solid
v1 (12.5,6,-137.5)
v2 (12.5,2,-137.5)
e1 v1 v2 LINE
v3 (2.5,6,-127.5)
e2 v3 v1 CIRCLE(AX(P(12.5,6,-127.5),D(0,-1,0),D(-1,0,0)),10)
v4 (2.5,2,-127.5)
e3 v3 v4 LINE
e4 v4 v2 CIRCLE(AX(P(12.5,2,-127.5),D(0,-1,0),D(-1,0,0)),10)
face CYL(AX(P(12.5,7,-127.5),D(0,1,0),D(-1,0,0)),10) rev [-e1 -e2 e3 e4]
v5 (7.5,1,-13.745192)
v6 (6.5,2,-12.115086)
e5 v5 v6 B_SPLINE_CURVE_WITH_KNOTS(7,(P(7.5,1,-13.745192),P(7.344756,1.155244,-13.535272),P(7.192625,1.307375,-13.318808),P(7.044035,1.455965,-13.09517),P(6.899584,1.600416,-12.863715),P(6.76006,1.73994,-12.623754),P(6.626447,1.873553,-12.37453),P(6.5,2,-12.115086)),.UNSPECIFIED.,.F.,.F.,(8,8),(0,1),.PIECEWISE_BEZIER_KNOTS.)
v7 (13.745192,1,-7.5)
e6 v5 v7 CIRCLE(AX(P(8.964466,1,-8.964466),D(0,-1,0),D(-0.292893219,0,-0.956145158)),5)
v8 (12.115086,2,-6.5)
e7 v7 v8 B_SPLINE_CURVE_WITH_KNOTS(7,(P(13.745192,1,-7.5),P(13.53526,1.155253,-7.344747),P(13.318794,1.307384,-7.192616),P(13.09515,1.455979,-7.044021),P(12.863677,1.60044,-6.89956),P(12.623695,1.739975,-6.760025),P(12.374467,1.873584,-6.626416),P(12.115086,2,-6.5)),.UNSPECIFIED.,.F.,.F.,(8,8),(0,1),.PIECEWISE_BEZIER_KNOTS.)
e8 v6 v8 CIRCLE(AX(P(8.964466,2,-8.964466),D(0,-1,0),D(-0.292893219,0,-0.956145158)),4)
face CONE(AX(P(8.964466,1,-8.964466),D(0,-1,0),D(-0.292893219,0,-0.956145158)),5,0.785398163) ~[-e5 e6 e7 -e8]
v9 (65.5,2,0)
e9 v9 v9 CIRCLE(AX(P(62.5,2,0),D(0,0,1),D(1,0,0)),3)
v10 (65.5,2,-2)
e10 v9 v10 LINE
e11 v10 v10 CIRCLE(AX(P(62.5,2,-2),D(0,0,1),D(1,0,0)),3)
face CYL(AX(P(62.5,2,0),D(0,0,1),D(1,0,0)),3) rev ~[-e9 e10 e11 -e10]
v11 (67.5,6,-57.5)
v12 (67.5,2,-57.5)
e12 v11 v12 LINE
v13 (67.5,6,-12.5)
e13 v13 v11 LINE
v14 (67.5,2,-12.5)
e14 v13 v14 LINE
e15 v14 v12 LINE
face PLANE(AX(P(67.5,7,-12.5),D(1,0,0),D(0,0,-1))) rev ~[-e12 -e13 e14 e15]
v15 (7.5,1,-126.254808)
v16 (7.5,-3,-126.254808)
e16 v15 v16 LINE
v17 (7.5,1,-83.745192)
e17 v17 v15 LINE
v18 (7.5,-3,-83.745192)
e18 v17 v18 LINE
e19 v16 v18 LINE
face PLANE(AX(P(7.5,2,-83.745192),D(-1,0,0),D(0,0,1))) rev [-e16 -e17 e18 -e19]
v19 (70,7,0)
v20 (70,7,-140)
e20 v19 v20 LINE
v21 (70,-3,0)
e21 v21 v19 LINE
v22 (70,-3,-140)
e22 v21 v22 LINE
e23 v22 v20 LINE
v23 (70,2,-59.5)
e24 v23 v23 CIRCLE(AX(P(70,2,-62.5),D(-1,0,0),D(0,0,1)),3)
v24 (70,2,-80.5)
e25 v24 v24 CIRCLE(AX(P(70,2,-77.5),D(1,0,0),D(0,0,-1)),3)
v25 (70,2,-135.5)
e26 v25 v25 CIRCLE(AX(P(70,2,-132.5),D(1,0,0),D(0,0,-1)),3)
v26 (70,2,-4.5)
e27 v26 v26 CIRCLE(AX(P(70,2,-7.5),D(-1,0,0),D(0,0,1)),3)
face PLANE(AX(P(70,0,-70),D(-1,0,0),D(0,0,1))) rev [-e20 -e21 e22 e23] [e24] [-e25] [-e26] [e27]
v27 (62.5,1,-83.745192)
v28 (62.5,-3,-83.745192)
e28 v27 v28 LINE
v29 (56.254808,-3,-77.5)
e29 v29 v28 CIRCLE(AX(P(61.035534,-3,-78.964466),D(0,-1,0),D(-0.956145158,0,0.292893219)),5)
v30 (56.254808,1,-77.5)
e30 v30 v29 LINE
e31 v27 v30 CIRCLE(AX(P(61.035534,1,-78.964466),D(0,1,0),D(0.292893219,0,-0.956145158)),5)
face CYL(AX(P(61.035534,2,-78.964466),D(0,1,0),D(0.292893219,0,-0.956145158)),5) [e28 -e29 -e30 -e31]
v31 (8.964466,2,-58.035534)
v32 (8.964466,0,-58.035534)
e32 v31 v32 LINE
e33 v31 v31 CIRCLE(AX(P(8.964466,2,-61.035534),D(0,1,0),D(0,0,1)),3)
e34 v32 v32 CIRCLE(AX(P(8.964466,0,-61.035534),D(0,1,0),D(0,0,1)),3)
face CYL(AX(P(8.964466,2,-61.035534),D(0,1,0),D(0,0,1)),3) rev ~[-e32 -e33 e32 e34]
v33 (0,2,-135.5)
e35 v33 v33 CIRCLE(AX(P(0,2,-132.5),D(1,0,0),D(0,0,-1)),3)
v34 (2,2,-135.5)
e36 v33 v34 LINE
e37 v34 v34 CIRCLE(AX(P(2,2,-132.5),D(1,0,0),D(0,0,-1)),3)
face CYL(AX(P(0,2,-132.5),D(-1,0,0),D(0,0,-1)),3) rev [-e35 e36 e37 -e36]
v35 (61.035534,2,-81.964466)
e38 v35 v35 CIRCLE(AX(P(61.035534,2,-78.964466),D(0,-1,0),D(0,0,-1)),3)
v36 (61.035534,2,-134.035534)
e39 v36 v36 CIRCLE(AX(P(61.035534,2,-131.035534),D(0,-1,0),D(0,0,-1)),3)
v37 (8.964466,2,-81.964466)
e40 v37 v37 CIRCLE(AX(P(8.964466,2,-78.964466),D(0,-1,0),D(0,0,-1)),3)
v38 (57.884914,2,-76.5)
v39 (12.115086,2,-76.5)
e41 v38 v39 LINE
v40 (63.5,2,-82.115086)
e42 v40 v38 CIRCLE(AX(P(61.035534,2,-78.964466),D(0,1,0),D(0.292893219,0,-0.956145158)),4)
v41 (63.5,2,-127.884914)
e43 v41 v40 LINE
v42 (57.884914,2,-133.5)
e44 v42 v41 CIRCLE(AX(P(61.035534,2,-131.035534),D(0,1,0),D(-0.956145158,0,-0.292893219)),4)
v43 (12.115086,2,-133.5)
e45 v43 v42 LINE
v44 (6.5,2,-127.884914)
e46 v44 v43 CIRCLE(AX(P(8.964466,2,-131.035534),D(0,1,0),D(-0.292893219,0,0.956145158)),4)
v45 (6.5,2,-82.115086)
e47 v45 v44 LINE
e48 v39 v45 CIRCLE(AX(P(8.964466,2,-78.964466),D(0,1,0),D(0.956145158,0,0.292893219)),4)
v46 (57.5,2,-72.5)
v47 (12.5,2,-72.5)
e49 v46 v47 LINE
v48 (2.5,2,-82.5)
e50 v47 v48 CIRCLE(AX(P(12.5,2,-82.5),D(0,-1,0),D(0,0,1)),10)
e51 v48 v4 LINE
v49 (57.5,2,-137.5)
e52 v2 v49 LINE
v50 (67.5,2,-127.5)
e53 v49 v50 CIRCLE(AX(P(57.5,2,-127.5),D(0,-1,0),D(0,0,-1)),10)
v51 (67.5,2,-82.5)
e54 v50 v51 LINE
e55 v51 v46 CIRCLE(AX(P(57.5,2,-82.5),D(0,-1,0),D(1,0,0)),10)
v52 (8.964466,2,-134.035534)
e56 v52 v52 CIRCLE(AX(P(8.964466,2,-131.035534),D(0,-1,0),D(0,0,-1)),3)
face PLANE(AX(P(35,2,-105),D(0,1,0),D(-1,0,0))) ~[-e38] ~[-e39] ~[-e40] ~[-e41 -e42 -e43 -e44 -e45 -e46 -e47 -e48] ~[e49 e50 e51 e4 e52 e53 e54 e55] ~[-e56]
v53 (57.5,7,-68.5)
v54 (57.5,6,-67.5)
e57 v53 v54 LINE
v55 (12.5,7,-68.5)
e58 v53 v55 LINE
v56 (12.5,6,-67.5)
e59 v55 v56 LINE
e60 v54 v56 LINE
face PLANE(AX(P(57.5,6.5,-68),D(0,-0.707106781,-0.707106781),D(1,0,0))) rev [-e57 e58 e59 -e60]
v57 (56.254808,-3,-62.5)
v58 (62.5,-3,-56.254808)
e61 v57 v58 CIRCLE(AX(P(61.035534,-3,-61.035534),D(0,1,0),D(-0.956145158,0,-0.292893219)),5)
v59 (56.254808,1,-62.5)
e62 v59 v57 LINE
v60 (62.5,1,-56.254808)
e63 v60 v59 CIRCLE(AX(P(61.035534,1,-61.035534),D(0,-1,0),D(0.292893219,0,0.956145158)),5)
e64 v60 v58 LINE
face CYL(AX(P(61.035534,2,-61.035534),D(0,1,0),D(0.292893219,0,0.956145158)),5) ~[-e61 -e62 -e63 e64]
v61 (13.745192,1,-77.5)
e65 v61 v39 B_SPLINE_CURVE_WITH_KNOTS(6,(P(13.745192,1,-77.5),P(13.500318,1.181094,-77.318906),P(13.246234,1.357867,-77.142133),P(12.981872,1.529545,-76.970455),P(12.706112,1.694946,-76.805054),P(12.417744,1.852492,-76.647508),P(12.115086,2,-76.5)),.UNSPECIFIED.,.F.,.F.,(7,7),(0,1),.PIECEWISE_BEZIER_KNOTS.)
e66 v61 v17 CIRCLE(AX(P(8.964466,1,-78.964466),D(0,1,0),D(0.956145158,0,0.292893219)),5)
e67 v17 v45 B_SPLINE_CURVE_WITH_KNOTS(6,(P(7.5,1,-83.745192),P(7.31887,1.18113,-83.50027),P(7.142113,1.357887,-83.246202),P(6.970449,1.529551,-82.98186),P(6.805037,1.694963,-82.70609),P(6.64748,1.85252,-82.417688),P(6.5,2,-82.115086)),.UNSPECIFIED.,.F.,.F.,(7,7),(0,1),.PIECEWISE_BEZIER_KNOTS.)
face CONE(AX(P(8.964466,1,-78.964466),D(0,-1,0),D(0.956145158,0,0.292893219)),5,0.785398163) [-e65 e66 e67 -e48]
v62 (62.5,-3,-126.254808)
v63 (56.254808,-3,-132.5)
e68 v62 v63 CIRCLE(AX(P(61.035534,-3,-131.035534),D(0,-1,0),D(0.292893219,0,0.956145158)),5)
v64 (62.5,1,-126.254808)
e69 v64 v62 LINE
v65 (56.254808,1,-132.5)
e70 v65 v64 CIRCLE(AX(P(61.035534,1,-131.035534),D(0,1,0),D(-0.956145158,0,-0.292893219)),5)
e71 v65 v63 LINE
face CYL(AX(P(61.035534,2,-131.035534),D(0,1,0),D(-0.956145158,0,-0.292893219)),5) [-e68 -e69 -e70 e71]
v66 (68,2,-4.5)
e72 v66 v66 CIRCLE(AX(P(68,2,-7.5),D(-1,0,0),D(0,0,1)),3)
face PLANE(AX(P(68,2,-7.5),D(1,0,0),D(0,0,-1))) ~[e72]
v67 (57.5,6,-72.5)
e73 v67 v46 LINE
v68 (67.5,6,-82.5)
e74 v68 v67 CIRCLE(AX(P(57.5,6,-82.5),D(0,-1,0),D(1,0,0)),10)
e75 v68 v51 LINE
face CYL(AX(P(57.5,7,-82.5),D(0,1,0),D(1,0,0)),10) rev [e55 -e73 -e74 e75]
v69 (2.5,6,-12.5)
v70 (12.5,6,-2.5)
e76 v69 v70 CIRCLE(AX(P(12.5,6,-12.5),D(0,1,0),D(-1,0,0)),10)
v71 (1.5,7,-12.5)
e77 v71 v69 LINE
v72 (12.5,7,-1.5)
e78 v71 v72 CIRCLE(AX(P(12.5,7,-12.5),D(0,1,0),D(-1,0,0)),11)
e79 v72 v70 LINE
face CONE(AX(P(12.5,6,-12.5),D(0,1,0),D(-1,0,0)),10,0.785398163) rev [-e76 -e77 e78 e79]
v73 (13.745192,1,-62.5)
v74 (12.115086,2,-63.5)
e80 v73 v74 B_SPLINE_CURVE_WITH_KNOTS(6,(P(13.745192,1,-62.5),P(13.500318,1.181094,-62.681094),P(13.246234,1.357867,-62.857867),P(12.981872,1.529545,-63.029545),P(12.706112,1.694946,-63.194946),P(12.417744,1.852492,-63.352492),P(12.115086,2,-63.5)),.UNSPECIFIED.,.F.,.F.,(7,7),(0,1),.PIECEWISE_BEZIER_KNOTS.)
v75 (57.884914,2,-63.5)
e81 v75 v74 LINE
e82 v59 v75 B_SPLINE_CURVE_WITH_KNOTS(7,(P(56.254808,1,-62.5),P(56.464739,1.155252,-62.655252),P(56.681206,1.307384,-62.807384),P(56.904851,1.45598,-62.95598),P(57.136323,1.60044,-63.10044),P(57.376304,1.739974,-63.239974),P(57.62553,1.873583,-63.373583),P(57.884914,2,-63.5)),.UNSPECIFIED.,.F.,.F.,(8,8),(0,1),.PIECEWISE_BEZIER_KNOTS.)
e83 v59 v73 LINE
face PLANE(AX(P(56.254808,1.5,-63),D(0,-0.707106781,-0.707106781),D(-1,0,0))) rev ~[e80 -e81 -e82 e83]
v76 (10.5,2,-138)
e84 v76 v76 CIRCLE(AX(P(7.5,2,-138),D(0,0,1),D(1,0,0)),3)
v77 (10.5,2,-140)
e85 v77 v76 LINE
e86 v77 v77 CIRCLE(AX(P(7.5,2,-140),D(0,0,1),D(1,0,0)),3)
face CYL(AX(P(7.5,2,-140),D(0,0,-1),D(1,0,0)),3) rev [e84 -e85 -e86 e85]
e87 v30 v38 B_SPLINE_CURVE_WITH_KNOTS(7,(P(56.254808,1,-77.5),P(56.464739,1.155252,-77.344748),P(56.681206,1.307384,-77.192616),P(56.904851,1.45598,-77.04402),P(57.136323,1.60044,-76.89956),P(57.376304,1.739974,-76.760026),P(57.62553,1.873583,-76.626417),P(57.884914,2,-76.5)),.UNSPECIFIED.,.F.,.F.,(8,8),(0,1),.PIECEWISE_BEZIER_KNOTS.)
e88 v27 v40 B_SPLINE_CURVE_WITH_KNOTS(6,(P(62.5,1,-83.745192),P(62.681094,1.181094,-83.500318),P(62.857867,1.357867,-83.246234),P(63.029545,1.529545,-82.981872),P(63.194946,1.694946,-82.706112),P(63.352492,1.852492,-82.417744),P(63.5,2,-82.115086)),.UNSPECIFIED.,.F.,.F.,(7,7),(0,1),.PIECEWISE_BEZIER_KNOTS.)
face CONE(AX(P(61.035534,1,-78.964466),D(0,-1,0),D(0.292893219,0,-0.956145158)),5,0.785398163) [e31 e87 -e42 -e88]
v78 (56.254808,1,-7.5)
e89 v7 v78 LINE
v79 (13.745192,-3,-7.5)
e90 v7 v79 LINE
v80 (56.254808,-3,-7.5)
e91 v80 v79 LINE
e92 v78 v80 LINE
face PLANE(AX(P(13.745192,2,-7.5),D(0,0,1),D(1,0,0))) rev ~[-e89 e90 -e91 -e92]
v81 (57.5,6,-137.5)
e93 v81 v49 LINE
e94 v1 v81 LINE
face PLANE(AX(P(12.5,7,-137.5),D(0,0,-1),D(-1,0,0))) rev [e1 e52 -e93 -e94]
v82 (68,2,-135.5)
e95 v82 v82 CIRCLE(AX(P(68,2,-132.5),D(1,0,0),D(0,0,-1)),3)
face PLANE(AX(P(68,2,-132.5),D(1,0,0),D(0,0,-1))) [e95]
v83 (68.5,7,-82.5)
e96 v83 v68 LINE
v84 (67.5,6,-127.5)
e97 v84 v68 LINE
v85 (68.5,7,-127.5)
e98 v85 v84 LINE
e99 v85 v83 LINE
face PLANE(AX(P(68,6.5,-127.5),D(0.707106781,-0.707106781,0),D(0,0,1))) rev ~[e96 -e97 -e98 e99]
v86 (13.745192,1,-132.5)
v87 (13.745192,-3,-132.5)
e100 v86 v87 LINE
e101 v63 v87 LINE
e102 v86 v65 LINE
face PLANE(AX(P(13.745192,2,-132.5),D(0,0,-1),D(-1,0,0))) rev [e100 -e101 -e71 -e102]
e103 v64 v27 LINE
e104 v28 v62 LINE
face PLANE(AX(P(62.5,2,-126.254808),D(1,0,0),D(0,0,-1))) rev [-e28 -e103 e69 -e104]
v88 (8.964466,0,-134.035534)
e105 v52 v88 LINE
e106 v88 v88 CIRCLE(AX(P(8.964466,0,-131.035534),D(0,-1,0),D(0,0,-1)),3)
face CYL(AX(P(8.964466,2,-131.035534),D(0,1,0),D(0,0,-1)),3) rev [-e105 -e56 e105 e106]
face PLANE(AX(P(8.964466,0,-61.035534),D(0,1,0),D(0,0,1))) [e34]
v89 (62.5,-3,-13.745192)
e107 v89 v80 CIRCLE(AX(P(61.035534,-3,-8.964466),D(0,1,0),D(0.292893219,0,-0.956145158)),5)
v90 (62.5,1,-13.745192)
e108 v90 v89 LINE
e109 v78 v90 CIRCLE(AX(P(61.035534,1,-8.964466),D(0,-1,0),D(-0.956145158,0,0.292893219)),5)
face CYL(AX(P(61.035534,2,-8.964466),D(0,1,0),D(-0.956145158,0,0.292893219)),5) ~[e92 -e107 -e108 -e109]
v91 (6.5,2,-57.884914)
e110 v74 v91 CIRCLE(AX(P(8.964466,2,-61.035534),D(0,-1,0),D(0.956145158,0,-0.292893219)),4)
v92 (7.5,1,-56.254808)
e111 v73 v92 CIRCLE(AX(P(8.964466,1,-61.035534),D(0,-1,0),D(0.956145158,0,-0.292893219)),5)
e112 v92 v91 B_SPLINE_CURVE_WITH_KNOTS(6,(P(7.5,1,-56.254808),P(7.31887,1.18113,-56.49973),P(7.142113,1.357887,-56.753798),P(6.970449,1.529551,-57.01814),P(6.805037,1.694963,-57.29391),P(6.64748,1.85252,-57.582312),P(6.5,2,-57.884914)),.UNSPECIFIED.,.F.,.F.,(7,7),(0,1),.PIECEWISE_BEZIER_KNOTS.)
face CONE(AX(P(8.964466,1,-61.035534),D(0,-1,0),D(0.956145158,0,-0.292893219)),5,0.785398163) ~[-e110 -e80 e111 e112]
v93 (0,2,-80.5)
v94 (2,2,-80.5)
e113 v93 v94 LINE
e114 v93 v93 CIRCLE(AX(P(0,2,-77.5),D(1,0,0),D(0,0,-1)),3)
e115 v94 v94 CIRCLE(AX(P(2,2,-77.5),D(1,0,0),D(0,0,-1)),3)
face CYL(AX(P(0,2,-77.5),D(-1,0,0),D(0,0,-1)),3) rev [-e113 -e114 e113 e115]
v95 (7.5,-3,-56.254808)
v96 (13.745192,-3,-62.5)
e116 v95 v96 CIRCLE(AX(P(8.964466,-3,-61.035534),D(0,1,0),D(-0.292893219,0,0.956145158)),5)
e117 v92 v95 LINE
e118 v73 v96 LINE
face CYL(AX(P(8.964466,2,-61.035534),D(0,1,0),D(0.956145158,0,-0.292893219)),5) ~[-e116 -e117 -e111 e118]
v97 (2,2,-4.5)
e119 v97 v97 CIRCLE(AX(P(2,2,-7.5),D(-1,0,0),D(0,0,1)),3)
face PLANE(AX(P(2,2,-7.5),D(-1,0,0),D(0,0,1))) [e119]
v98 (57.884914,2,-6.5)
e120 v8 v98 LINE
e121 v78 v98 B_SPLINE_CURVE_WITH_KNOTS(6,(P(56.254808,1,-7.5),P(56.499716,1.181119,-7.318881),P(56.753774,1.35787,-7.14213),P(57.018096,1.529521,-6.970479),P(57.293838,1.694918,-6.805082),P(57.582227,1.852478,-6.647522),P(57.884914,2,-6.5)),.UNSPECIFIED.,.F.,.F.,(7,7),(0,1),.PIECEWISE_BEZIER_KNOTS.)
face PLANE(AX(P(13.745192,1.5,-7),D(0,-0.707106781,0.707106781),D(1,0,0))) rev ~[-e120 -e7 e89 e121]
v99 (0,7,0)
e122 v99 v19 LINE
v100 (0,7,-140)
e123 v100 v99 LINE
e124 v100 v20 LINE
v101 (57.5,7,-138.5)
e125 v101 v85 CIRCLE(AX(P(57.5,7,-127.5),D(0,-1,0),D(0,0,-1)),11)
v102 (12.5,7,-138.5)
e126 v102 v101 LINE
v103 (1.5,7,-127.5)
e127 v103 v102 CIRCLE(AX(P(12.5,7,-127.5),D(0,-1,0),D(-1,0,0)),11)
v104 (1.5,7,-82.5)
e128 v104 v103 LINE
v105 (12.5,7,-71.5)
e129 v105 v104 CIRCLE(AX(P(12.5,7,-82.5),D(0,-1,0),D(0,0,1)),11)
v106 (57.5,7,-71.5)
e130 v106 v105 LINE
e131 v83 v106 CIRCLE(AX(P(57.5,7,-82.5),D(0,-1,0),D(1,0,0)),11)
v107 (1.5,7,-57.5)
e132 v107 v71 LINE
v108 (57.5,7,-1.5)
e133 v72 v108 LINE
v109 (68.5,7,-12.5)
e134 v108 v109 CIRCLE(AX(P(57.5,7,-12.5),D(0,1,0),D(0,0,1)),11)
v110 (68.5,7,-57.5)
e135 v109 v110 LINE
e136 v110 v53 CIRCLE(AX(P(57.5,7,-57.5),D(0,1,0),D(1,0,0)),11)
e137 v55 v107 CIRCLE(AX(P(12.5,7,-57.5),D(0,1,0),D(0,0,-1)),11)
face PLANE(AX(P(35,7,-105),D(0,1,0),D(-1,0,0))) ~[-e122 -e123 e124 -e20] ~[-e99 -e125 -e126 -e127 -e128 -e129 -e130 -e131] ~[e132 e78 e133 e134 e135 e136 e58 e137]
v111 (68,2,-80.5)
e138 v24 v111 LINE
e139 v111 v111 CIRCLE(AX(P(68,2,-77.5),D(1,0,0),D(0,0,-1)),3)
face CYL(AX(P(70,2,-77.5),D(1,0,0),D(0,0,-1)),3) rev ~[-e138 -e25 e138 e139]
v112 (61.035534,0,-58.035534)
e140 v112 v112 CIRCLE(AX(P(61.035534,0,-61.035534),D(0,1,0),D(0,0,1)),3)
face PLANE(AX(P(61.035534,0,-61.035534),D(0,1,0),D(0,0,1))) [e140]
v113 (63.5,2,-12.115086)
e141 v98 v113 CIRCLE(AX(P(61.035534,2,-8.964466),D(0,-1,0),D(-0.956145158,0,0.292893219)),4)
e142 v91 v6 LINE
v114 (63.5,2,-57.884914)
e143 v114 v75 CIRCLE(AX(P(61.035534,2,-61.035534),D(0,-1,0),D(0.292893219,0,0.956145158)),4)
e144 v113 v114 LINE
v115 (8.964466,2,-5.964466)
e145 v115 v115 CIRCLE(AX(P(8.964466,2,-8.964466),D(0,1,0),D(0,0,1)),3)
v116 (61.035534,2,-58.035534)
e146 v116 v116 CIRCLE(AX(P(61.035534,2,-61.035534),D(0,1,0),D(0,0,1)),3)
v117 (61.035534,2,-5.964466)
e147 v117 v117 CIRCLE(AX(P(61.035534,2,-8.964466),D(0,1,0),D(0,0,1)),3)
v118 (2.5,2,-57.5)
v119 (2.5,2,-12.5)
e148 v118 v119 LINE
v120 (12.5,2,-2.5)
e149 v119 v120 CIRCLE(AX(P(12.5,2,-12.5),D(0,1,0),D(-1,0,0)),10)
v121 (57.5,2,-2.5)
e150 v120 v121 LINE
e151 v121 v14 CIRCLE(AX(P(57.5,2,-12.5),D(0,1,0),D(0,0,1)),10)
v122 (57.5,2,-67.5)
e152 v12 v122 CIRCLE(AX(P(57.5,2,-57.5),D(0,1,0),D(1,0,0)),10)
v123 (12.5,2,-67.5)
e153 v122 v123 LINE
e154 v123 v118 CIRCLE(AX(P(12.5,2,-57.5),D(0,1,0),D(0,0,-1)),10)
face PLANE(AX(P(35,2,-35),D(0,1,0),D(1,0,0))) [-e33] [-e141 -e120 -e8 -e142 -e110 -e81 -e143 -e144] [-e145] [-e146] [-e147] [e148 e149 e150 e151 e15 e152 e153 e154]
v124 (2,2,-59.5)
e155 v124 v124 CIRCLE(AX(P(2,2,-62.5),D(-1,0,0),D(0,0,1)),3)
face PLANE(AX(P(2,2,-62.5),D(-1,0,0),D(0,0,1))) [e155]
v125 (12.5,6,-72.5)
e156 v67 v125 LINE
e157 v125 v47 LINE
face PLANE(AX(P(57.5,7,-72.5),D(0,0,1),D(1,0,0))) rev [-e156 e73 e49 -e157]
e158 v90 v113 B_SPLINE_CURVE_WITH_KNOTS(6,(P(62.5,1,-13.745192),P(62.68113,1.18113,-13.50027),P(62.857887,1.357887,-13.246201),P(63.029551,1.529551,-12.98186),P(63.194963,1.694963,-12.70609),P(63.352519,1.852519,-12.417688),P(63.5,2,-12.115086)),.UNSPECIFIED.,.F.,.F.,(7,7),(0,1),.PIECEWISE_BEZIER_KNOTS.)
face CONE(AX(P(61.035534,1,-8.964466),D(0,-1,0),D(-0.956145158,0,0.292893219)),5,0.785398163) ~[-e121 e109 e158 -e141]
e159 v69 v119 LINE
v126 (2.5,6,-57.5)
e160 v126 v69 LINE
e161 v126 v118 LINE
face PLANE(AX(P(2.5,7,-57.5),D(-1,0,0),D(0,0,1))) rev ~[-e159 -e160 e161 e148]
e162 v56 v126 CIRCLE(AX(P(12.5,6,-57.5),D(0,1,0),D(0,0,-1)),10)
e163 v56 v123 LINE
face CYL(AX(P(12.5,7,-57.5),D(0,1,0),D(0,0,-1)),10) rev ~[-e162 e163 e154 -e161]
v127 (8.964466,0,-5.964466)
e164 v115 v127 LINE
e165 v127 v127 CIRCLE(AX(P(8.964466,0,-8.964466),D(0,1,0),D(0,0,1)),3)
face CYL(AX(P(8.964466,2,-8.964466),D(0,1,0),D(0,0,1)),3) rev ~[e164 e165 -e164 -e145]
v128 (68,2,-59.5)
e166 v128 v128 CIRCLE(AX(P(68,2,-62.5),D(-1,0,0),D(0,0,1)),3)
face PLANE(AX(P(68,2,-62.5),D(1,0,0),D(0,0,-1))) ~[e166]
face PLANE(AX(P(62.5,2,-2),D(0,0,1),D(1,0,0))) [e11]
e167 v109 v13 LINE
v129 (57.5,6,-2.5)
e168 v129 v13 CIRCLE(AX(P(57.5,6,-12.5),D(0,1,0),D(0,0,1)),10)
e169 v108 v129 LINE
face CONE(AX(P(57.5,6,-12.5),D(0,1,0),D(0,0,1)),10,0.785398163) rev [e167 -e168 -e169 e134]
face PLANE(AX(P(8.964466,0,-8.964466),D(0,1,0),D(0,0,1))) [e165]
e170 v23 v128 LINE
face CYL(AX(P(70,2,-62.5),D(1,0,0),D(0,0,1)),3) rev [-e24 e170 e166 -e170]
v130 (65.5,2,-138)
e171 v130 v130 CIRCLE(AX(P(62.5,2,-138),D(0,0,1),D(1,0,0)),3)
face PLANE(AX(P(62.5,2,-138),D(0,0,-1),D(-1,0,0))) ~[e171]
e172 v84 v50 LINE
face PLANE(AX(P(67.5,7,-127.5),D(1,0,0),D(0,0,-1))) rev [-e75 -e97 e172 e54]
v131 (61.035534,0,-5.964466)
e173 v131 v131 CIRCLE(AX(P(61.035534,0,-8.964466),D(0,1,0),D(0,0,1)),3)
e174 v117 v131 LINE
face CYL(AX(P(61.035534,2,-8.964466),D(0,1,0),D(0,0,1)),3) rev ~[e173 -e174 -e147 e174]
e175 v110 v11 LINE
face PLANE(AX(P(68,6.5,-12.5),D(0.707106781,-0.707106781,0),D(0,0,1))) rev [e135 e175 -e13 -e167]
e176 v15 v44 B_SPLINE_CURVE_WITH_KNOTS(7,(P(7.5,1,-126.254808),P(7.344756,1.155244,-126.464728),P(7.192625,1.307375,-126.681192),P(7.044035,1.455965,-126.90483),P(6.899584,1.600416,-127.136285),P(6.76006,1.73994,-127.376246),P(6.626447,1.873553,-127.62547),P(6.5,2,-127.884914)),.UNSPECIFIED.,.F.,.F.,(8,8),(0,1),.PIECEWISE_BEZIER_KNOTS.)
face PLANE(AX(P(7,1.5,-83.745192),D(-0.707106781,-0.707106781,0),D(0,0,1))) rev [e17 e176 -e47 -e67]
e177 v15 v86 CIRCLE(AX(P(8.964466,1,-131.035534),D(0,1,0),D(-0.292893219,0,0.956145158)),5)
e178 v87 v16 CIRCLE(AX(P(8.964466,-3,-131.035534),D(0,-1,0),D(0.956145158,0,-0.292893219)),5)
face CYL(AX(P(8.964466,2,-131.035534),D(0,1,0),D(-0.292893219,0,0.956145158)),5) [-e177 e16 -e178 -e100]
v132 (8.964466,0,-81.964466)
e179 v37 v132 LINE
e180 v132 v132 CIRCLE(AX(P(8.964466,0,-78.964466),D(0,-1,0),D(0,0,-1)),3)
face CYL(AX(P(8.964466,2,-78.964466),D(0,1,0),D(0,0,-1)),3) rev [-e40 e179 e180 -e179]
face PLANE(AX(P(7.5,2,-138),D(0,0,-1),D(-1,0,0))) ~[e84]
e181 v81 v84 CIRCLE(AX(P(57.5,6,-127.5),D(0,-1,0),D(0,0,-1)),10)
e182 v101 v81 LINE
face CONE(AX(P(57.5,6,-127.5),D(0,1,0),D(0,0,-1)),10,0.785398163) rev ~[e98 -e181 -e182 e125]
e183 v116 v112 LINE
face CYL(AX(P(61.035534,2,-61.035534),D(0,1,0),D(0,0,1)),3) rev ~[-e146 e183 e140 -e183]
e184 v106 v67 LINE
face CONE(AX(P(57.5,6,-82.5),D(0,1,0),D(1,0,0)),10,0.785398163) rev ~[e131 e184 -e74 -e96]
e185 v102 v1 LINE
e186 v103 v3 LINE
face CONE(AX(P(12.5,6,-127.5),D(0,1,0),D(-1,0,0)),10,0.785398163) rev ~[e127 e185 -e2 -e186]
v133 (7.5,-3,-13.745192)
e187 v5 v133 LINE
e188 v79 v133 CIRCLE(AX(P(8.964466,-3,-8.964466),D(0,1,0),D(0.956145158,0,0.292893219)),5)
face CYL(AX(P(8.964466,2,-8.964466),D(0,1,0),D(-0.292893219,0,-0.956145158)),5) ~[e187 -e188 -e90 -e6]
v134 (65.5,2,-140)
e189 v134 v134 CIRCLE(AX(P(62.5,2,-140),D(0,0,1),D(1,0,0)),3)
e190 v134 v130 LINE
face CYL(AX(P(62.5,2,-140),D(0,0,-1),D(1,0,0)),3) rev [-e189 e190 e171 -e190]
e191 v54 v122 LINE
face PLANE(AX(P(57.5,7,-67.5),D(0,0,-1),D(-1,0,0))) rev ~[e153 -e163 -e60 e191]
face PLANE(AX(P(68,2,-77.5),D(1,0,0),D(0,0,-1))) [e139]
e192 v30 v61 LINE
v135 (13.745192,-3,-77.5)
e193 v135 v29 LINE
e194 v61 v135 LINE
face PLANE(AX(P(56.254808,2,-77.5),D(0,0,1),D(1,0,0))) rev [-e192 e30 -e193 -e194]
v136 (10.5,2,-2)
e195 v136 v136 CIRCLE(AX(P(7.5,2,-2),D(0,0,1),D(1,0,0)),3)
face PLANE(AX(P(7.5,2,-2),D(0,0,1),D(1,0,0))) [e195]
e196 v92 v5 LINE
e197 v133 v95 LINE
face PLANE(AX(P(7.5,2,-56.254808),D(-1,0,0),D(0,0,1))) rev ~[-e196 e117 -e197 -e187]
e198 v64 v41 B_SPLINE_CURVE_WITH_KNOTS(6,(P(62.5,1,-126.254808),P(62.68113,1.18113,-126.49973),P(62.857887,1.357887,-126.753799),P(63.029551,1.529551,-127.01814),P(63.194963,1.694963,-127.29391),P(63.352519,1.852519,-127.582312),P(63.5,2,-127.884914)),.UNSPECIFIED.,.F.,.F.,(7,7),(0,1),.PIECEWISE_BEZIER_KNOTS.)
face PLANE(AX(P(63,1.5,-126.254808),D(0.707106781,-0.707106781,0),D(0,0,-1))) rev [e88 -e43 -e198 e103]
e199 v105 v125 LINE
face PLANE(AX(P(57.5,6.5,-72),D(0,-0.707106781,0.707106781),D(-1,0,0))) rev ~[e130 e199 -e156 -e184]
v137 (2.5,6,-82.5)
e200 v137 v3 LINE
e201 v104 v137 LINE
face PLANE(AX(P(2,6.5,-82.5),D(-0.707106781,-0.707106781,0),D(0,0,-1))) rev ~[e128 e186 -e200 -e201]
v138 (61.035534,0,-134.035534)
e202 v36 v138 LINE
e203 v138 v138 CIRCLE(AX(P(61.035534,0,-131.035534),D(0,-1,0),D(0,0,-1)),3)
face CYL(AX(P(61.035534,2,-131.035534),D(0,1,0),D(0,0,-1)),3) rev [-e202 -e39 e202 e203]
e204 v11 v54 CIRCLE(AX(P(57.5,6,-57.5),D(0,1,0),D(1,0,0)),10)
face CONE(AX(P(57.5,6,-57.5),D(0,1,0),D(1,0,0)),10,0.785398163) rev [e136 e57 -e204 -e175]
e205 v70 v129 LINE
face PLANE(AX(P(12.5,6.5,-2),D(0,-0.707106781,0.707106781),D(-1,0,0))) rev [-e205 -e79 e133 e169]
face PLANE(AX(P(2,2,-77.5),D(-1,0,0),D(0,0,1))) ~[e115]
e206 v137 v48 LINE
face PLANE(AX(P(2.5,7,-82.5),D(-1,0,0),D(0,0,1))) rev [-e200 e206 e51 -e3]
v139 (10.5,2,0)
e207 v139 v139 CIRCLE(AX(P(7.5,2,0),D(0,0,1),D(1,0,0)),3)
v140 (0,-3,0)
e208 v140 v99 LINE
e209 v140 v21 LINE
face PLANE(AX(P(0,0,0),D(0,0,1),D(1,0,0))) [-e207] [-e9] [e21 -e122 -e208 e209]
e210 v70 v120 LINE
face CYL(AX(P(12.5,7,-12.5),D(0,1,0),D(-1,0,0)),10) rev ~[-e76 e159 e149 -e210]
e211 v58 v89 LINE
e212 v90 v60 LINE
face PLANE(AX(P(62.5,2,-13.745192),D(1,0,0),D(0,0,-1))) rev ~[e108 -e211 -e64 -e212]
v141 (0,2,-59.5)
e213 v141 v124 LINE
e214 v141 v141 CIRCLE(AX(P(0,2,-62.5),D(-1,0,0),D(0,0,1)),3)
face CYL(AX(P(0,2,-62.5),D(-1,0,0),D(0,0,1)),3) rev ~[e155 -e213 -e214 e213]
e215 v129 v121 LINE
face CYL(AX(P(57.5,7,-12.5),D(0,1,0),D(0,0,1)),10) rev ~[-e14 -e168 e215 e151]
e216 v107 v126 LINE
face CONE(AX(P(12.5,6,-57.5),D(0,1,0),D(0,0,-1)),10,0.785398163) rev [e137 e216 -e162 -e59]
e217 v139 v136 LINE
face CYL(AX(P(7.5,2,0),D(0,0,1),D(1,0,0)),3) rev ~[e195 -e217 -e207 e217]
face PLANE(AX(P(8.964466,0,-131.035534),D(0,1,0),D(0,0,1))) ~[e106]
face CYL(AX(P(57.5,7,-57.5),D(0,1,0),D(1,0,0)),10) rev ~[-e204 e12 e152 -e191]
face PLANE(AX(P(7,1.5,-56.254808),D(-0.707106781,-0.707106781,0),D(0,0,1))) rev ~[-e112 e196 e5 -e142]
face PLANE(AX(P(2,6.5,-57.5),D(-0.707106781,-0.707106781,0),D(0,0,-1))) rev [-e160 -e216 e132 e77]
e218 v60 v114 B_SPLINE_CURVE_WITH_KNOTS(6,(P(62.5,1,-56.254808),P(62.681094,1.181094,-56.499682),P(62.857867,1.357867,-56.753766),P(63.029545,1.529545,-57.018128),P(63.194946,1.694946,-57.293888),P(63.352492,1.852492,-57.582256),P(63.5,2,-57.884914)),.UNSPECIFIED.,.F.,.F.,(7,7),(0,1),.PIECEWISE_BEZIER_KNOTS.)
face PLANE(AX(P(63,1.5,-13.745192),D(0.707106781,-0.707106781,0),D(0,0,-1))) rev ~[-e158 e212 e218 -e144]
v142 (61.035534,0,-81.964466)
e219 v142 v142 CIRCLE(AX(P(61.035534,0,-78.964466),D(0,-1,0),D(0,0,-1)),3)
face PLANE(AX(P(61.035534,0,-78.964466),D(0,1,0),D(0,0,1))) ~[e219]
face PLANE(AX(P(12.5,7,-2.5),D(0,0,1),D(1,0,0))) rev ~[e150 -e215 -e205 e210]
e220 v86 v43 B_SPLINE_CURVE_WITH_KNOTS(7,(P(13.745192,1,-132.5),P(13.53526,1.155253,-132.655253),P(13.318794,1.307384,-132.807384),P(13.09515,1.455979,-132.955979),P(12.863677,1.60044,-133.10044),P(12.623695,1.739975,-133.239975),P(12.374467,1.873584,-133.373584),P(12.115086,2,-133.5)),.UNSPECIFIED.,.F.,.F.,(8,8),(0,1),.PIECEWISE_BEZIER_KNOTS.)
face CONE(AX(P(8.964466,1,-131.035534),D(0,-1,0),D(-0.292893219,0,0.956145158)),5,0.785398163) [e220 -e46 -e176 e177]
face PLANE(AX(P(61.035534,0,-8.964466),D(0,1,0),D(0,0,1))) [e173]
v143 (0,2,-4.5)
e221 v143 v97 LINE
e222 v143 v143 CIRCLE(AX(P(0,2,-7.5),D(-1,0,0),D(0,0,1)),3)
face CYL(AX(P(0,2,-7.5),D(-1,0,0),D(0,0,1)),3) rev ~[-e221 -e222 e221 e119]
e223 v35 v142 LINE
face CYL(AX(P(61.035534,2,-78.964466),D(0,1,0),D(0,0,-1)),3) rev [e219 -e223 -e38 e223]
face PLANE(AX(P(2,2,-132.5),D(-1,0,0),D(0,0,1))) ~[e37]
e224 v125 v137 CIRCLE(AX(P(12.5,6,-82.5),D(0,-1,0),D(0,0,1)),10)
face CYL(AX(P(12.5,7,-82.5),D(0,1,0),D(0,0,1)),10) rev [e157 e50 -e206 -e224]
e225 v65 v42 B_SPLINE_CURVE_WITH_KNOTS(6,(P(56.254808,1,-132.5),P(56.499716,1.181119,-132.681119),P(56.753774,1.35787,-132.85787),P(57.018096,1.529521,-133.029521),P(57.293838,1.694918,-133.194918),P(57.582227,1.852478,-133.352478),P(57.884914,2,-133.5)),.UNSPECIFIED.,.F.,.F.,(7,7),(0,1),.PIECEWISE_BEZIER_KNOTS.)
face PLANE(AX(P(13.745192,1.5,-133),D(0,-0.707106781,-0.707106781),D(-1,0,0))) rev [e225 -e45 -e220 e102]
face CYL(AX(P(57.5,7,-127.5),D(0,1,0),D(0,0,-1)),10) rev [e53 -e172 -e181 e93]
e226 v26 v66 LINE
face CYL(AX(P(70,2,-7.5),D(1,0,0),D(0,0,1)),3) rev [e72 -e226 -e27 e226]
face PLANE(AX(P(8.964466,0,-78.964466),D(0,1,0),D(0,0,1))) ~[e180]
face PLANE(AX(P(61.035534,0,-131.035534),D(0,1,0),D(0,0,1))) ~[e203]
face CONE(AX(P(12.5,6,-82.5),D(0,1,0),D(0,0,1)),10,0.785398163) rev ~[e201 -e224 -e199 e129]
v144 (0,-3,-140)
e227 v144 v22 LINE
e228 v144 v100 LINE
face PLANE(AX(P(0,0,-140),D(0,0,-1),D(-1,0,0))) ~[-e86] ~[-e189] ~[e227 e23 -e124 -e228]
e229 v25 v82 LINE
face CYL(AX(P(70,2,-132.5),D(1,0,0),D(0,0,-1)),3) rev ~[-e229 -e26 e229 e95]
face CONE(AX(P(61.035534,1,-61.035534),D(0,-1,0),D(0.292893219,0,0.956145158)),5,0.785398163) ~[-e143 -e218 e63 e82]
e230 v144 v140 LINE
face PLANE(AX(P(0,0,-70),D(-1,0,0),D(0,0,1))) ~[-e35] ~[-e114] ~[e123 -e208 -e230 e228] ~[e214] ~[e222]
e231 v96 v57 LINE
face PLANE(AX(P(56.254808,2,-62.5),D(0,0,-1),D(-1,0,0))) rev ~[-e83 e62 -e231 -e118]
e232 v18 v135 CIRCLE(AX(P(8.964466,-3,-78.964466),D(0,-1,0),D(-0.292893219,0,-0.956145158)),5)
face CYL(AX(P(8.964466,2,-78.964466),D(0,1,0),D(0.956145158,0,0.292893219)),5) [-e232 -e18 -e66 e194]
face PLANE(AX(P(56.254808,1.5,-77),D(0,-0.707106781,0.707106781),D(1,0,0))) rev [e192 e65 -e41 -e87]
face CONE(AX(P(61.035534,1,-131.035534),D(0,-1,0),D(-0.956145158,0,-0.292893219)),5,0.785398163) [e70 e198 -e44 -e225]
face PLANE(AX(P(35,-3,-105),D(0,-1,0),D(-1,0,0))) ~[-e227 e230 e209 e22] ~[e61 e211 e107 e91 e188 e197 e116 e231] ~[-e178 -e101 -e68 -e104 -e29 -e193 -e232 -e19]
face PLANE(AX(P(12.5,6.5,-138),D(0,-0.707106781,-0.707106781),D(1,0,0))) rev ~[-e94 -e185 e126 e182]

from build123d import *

# Parameters (mm, degrees)
SKETCH1_W               = 70
SKETCH1_H               = 70
BOSS_EXTRUDE2_DEPTH     = 7
CUT_EXTRUDE1_DEPTH      = 5
SKETCH9_W               = 70
SKETCH9_H               = 70
BOSS_EXTRUDE3_DEPTH     = 5
CUT_EXTRUDE11_DEPTH     = 100.242128151
SKETCH21_R              = 3
CUT_EXTRUDE12_DEPTH     = 2
CHAMFER3_SIZE           = 1
CUT_EXTRUDE13_START     = -2
SKETCH22_W              = 70
SKETCH22_H              = 70
CUT_EXTRUDE13_DEPTH     = 2
SKETCH27_R              = 3
CUT_EXTRUDE27_DEPTH     = 2
SKETCH28_R              = 3
CUT_EXTRUDE28_DEPTH     = 2
MIRROR8_COPY_1_SKETCH_R = 3
MIRROR8_COPY_1_DEPTH    = 2
MIRROR8_COPY_2_SKETCH_R = 3
MIRROR8_COPY_2_DEPTH    = 2


with BuildPart() as part:
    # Sketch1 → Boss-Extrude2 (new body)
    with BuildSketch(Plane(origin=(0, 0, 0), x_dir=(1, 0, 0), z_dir=(0, 1, 0))):
        with Locations((35, 35)):
            Rectangle(SKETCH1_W, SKETCH1_H)
    extrude(amount=BOSS_EXTRUDE2_DEPTH)

    # Sketch3 → Cut-Extrude1 (cut)
    with BuildSketch(Plane(origin=(0, 7, 0), x_dir=(1, 0, 0), z_dir=(0, 1, 0))):
        with BuildLine():
            Line((2.5, 57.5), (2.5, 12.5))
            ThreePointArc((2.5, 12.5), (5.428932188, 5.428932188), (12.5, 2.5))
            Line((12.5, 2.5), (57.5, 2.5))
            ThreePointArc((57.5, 2.5), (64.571067812, 5.428932188), (67.5, 12.5))
            Line((67.5, 12.5), (67.5, 57.5))
            ThreePointArc((67.5, 57.5), (64.571067812, 64.571067812), (57.5, 67.5))
            Line((57.5, 67.5), (12.5, 67.5))
            ThreePointArc((12.5, 67.5), (5.428932188, 64.571067812), (2.5, 57.5))
        make_face()
    extrude(amount=-CUT_EXTRUDE1_DEPTH, mode=Mode.SUBTRACT)

    # Sketch9 → Boss-Extrude3 (add)
    with BuildSketch(Plane.XZ):
        with Locations((35, -35)):
            Rectangle(SKETCH9_W, SKETCH9_H)
    extrude(amount=BOSS_EXTRUDE3_DEPTH)

    # Sketch20 → Cut-Extrude11 (cut, through all)
    with BuildSketch(Plane(origin=(0, 2, 0), x_dir=(1, 0, 0), z_dir=(0, 1, 0))):
        with BuildLine():
            Line((13.745191882, 7.5), (56.254808118, 7.5))
            ThreePointArc((56.254808118, 7.5), (57.5, 12.5), (62.5, 13.745191882))
            Line((62.5, 13.745191882), (62.5, 56.254808118))
            ThreePointArc((62.5, 56.254808118), (57.5, 57.5), (56.254808118, 62.5))
            Line((56.254808118, 62.5), (13.745191882, 62.5))
            ThreePointArc((13.745191882, 62.5), (12.5, 57.5), (7.5, 56.254808118))
            Line((7.5, 56.254808118), (7.5, 13.745191882))
            ThreePointArc((7.5, 13.745191882), (12.5, 12.5), (13.745191882, 7.5))
        make_face()
    extrude(amount=-CUT_EXTRUDE11_DEPTH, mode=Mode.SUBTRACT)

    # Sketch21 → Cut-Extrude12 (cut)
    with BuildSketch(Plane(origin=(0, 2, 0), x_dir=(1, 0, 0), z_dir=(0, 1, 0))):
        with Locations(Location((8.964466094, 61.035533906, 0), (0, 0, 270))):
            Circle(SKETCH21_R)
        with Locations(Location((61.035533906, 61.035533906, 0), (0, 0, 270))):
            Circle(SKETCH21_R)
        with Locations(Location((61.035533906, 8.964466094, 0), (0, 0, 270))):
            Circle(SKETCH21_R)
        with Locations(Location((8.964466094, 8.964466094, 0), (0, 0, 270))):
            Circle(SKETCH21_R)
    extrude(amount=-CUT_EXTRUDE12_DEPTH, mode=Mode.SUBTRACT)

    # Chamfer3
    chamfer3_edges = [part.edges().sort_by_distance(p)[0] for p in [
        (5.428932188, 7, -5.428932188),
        (35, 7, -2.5),
        (64.571067812, 7, -5.428932188),
        (67.5, 7, -35),
        (64.571067812, 7, -64.571067812),
        (35, 7, -67.5),
        (5.428932188, 7, -64.571067812),
        (2.5, 7, -35),
        (12.5, 2, -12.5),
        (12.5, 2, -57.5),
        (57.5, 2, -57.5),
        (57.5, 2, -12.5),
        (35, 2, -7.5),
        (62.5, 2, -35),
        (35, 2, -62.5),
        (7.5, 2, -35),
    ]]
    chamfer(chamfer3_edges, length=CHAMFER3_SIZE)

    # Sketch22 → Cut-Extrude13 (cut)
    with BuildSketch(Plane.XZ.offset(5).offset(CUT_EXTRUDE13_START)):
        with Locations((35, -35)):
            Rectangle(SKETCH22_W, SKETCH22_H)
        with BuildLine():
            Line((7.5, -13.745191882), (7.5, -56.254808118))
            ThreePointArc((7.5, -56.254808118), (12.5, -57.5), (13.745191882, -62.5))
            Line((13.745191882, -62.5), (56.254808118, -62.5))
            ThreePointArc((56.254808118, -62.5), (57.5, -57.5), (62.5, -56.254808118))
            Line((62.5, -56.254808118), (62.5, -13.745191882))
            ThreePointArc((62.5, -13.745191882), (57.5, -12.5), (56.254808118, -7.5))
            Line((56.254808118, -7.5), (13.745191882, -7.5))
            ThreePointArc((13.745191882, -7.5), (12.5, -12.5), (7.5, -13.745191882))
        make_face(mode=Mode.SUBTRACT)
    extrude(amount=CUT_EXTRUDE13_DEPTH, mode=Mode.SUBTRACT)

    # Sketch27 → Cut-Extrude27 (cut)
    with BuildSketch(Plane.ZY):
        with Locations((-62.5, 2)):
            Circle(SKETCH27_R)
        with Locations((-7.5, 2)):
            Circle(SKETCH27_R)
    cut_extrude27 = extrude(amount=-CUT_EXTRUDE27_DEPTH, mode=Mode.SUBTRACT)

    # Sketch28 → Cut-Extrude28 (cut)
    with BuildSketch(Plane.XY):
        with Locations((7.5, 2)):
            Circle(SKETCH28_R)
        with Locations((62.5, 2)):
            Circle(SKETCH28_R)
    extrude(amount=-CUT_EXTRUDE28_DEPTH, mode=Mode.SUBTRACT)

    # Mirror2: part across plane


with BuildPart() as part_1:
    add(part.part)
    add(part.part.mirror(Plane(origin=(0, 7, -70), x_dir=(1, 0, 0), z_dir=(0, 0, 1))))

    # Mirror7: Cut-Extrude27 across plane
    add(cut_extrude27.mirror(Plane.ZY.offset(-35)), mode=Mode.SUBTRACT)

    # Mirror8 copy 1 sketch → Mirror8 copy 1 (cut)
    with BuildSketch(Plane(origin=(70, 0, -140), x_dir=(0, 0, -1), z_dir=(1, 0, 0))):
        with Locations((-62.5, 2)):
            Circle(MIRROR8_COPY_1_SKETCH_R)
        with Locations((-7.5, 2)):
            Circle(MIRROR8_COPY_1_SKETCH_R)
    extrude(amount=-MIRROR8_COPY_1_DEPTH, mode=Mode.SUBTRACT)

    # Mirror8 copy 2 sketch → Mirror8 copy 2 (cut)
    with BuildSketch(Plane(origin=(0, 0, -140), x_dir=(0, 0, -1), z_dir=(-1, 0, 0))):
        with Locations((-62.5, -2)):
            Circle(MIRROR8_COPY_2_SKETCH_R)
        with Locations((-7.5, -2)):
            Circle(MIRROR8_COPY_2_SKETCH_R)
    extrude(amount=-MIRROR8_COPY_2_DEPTH, mode=Mode.SUBTRACT)


solid = part_1.part
